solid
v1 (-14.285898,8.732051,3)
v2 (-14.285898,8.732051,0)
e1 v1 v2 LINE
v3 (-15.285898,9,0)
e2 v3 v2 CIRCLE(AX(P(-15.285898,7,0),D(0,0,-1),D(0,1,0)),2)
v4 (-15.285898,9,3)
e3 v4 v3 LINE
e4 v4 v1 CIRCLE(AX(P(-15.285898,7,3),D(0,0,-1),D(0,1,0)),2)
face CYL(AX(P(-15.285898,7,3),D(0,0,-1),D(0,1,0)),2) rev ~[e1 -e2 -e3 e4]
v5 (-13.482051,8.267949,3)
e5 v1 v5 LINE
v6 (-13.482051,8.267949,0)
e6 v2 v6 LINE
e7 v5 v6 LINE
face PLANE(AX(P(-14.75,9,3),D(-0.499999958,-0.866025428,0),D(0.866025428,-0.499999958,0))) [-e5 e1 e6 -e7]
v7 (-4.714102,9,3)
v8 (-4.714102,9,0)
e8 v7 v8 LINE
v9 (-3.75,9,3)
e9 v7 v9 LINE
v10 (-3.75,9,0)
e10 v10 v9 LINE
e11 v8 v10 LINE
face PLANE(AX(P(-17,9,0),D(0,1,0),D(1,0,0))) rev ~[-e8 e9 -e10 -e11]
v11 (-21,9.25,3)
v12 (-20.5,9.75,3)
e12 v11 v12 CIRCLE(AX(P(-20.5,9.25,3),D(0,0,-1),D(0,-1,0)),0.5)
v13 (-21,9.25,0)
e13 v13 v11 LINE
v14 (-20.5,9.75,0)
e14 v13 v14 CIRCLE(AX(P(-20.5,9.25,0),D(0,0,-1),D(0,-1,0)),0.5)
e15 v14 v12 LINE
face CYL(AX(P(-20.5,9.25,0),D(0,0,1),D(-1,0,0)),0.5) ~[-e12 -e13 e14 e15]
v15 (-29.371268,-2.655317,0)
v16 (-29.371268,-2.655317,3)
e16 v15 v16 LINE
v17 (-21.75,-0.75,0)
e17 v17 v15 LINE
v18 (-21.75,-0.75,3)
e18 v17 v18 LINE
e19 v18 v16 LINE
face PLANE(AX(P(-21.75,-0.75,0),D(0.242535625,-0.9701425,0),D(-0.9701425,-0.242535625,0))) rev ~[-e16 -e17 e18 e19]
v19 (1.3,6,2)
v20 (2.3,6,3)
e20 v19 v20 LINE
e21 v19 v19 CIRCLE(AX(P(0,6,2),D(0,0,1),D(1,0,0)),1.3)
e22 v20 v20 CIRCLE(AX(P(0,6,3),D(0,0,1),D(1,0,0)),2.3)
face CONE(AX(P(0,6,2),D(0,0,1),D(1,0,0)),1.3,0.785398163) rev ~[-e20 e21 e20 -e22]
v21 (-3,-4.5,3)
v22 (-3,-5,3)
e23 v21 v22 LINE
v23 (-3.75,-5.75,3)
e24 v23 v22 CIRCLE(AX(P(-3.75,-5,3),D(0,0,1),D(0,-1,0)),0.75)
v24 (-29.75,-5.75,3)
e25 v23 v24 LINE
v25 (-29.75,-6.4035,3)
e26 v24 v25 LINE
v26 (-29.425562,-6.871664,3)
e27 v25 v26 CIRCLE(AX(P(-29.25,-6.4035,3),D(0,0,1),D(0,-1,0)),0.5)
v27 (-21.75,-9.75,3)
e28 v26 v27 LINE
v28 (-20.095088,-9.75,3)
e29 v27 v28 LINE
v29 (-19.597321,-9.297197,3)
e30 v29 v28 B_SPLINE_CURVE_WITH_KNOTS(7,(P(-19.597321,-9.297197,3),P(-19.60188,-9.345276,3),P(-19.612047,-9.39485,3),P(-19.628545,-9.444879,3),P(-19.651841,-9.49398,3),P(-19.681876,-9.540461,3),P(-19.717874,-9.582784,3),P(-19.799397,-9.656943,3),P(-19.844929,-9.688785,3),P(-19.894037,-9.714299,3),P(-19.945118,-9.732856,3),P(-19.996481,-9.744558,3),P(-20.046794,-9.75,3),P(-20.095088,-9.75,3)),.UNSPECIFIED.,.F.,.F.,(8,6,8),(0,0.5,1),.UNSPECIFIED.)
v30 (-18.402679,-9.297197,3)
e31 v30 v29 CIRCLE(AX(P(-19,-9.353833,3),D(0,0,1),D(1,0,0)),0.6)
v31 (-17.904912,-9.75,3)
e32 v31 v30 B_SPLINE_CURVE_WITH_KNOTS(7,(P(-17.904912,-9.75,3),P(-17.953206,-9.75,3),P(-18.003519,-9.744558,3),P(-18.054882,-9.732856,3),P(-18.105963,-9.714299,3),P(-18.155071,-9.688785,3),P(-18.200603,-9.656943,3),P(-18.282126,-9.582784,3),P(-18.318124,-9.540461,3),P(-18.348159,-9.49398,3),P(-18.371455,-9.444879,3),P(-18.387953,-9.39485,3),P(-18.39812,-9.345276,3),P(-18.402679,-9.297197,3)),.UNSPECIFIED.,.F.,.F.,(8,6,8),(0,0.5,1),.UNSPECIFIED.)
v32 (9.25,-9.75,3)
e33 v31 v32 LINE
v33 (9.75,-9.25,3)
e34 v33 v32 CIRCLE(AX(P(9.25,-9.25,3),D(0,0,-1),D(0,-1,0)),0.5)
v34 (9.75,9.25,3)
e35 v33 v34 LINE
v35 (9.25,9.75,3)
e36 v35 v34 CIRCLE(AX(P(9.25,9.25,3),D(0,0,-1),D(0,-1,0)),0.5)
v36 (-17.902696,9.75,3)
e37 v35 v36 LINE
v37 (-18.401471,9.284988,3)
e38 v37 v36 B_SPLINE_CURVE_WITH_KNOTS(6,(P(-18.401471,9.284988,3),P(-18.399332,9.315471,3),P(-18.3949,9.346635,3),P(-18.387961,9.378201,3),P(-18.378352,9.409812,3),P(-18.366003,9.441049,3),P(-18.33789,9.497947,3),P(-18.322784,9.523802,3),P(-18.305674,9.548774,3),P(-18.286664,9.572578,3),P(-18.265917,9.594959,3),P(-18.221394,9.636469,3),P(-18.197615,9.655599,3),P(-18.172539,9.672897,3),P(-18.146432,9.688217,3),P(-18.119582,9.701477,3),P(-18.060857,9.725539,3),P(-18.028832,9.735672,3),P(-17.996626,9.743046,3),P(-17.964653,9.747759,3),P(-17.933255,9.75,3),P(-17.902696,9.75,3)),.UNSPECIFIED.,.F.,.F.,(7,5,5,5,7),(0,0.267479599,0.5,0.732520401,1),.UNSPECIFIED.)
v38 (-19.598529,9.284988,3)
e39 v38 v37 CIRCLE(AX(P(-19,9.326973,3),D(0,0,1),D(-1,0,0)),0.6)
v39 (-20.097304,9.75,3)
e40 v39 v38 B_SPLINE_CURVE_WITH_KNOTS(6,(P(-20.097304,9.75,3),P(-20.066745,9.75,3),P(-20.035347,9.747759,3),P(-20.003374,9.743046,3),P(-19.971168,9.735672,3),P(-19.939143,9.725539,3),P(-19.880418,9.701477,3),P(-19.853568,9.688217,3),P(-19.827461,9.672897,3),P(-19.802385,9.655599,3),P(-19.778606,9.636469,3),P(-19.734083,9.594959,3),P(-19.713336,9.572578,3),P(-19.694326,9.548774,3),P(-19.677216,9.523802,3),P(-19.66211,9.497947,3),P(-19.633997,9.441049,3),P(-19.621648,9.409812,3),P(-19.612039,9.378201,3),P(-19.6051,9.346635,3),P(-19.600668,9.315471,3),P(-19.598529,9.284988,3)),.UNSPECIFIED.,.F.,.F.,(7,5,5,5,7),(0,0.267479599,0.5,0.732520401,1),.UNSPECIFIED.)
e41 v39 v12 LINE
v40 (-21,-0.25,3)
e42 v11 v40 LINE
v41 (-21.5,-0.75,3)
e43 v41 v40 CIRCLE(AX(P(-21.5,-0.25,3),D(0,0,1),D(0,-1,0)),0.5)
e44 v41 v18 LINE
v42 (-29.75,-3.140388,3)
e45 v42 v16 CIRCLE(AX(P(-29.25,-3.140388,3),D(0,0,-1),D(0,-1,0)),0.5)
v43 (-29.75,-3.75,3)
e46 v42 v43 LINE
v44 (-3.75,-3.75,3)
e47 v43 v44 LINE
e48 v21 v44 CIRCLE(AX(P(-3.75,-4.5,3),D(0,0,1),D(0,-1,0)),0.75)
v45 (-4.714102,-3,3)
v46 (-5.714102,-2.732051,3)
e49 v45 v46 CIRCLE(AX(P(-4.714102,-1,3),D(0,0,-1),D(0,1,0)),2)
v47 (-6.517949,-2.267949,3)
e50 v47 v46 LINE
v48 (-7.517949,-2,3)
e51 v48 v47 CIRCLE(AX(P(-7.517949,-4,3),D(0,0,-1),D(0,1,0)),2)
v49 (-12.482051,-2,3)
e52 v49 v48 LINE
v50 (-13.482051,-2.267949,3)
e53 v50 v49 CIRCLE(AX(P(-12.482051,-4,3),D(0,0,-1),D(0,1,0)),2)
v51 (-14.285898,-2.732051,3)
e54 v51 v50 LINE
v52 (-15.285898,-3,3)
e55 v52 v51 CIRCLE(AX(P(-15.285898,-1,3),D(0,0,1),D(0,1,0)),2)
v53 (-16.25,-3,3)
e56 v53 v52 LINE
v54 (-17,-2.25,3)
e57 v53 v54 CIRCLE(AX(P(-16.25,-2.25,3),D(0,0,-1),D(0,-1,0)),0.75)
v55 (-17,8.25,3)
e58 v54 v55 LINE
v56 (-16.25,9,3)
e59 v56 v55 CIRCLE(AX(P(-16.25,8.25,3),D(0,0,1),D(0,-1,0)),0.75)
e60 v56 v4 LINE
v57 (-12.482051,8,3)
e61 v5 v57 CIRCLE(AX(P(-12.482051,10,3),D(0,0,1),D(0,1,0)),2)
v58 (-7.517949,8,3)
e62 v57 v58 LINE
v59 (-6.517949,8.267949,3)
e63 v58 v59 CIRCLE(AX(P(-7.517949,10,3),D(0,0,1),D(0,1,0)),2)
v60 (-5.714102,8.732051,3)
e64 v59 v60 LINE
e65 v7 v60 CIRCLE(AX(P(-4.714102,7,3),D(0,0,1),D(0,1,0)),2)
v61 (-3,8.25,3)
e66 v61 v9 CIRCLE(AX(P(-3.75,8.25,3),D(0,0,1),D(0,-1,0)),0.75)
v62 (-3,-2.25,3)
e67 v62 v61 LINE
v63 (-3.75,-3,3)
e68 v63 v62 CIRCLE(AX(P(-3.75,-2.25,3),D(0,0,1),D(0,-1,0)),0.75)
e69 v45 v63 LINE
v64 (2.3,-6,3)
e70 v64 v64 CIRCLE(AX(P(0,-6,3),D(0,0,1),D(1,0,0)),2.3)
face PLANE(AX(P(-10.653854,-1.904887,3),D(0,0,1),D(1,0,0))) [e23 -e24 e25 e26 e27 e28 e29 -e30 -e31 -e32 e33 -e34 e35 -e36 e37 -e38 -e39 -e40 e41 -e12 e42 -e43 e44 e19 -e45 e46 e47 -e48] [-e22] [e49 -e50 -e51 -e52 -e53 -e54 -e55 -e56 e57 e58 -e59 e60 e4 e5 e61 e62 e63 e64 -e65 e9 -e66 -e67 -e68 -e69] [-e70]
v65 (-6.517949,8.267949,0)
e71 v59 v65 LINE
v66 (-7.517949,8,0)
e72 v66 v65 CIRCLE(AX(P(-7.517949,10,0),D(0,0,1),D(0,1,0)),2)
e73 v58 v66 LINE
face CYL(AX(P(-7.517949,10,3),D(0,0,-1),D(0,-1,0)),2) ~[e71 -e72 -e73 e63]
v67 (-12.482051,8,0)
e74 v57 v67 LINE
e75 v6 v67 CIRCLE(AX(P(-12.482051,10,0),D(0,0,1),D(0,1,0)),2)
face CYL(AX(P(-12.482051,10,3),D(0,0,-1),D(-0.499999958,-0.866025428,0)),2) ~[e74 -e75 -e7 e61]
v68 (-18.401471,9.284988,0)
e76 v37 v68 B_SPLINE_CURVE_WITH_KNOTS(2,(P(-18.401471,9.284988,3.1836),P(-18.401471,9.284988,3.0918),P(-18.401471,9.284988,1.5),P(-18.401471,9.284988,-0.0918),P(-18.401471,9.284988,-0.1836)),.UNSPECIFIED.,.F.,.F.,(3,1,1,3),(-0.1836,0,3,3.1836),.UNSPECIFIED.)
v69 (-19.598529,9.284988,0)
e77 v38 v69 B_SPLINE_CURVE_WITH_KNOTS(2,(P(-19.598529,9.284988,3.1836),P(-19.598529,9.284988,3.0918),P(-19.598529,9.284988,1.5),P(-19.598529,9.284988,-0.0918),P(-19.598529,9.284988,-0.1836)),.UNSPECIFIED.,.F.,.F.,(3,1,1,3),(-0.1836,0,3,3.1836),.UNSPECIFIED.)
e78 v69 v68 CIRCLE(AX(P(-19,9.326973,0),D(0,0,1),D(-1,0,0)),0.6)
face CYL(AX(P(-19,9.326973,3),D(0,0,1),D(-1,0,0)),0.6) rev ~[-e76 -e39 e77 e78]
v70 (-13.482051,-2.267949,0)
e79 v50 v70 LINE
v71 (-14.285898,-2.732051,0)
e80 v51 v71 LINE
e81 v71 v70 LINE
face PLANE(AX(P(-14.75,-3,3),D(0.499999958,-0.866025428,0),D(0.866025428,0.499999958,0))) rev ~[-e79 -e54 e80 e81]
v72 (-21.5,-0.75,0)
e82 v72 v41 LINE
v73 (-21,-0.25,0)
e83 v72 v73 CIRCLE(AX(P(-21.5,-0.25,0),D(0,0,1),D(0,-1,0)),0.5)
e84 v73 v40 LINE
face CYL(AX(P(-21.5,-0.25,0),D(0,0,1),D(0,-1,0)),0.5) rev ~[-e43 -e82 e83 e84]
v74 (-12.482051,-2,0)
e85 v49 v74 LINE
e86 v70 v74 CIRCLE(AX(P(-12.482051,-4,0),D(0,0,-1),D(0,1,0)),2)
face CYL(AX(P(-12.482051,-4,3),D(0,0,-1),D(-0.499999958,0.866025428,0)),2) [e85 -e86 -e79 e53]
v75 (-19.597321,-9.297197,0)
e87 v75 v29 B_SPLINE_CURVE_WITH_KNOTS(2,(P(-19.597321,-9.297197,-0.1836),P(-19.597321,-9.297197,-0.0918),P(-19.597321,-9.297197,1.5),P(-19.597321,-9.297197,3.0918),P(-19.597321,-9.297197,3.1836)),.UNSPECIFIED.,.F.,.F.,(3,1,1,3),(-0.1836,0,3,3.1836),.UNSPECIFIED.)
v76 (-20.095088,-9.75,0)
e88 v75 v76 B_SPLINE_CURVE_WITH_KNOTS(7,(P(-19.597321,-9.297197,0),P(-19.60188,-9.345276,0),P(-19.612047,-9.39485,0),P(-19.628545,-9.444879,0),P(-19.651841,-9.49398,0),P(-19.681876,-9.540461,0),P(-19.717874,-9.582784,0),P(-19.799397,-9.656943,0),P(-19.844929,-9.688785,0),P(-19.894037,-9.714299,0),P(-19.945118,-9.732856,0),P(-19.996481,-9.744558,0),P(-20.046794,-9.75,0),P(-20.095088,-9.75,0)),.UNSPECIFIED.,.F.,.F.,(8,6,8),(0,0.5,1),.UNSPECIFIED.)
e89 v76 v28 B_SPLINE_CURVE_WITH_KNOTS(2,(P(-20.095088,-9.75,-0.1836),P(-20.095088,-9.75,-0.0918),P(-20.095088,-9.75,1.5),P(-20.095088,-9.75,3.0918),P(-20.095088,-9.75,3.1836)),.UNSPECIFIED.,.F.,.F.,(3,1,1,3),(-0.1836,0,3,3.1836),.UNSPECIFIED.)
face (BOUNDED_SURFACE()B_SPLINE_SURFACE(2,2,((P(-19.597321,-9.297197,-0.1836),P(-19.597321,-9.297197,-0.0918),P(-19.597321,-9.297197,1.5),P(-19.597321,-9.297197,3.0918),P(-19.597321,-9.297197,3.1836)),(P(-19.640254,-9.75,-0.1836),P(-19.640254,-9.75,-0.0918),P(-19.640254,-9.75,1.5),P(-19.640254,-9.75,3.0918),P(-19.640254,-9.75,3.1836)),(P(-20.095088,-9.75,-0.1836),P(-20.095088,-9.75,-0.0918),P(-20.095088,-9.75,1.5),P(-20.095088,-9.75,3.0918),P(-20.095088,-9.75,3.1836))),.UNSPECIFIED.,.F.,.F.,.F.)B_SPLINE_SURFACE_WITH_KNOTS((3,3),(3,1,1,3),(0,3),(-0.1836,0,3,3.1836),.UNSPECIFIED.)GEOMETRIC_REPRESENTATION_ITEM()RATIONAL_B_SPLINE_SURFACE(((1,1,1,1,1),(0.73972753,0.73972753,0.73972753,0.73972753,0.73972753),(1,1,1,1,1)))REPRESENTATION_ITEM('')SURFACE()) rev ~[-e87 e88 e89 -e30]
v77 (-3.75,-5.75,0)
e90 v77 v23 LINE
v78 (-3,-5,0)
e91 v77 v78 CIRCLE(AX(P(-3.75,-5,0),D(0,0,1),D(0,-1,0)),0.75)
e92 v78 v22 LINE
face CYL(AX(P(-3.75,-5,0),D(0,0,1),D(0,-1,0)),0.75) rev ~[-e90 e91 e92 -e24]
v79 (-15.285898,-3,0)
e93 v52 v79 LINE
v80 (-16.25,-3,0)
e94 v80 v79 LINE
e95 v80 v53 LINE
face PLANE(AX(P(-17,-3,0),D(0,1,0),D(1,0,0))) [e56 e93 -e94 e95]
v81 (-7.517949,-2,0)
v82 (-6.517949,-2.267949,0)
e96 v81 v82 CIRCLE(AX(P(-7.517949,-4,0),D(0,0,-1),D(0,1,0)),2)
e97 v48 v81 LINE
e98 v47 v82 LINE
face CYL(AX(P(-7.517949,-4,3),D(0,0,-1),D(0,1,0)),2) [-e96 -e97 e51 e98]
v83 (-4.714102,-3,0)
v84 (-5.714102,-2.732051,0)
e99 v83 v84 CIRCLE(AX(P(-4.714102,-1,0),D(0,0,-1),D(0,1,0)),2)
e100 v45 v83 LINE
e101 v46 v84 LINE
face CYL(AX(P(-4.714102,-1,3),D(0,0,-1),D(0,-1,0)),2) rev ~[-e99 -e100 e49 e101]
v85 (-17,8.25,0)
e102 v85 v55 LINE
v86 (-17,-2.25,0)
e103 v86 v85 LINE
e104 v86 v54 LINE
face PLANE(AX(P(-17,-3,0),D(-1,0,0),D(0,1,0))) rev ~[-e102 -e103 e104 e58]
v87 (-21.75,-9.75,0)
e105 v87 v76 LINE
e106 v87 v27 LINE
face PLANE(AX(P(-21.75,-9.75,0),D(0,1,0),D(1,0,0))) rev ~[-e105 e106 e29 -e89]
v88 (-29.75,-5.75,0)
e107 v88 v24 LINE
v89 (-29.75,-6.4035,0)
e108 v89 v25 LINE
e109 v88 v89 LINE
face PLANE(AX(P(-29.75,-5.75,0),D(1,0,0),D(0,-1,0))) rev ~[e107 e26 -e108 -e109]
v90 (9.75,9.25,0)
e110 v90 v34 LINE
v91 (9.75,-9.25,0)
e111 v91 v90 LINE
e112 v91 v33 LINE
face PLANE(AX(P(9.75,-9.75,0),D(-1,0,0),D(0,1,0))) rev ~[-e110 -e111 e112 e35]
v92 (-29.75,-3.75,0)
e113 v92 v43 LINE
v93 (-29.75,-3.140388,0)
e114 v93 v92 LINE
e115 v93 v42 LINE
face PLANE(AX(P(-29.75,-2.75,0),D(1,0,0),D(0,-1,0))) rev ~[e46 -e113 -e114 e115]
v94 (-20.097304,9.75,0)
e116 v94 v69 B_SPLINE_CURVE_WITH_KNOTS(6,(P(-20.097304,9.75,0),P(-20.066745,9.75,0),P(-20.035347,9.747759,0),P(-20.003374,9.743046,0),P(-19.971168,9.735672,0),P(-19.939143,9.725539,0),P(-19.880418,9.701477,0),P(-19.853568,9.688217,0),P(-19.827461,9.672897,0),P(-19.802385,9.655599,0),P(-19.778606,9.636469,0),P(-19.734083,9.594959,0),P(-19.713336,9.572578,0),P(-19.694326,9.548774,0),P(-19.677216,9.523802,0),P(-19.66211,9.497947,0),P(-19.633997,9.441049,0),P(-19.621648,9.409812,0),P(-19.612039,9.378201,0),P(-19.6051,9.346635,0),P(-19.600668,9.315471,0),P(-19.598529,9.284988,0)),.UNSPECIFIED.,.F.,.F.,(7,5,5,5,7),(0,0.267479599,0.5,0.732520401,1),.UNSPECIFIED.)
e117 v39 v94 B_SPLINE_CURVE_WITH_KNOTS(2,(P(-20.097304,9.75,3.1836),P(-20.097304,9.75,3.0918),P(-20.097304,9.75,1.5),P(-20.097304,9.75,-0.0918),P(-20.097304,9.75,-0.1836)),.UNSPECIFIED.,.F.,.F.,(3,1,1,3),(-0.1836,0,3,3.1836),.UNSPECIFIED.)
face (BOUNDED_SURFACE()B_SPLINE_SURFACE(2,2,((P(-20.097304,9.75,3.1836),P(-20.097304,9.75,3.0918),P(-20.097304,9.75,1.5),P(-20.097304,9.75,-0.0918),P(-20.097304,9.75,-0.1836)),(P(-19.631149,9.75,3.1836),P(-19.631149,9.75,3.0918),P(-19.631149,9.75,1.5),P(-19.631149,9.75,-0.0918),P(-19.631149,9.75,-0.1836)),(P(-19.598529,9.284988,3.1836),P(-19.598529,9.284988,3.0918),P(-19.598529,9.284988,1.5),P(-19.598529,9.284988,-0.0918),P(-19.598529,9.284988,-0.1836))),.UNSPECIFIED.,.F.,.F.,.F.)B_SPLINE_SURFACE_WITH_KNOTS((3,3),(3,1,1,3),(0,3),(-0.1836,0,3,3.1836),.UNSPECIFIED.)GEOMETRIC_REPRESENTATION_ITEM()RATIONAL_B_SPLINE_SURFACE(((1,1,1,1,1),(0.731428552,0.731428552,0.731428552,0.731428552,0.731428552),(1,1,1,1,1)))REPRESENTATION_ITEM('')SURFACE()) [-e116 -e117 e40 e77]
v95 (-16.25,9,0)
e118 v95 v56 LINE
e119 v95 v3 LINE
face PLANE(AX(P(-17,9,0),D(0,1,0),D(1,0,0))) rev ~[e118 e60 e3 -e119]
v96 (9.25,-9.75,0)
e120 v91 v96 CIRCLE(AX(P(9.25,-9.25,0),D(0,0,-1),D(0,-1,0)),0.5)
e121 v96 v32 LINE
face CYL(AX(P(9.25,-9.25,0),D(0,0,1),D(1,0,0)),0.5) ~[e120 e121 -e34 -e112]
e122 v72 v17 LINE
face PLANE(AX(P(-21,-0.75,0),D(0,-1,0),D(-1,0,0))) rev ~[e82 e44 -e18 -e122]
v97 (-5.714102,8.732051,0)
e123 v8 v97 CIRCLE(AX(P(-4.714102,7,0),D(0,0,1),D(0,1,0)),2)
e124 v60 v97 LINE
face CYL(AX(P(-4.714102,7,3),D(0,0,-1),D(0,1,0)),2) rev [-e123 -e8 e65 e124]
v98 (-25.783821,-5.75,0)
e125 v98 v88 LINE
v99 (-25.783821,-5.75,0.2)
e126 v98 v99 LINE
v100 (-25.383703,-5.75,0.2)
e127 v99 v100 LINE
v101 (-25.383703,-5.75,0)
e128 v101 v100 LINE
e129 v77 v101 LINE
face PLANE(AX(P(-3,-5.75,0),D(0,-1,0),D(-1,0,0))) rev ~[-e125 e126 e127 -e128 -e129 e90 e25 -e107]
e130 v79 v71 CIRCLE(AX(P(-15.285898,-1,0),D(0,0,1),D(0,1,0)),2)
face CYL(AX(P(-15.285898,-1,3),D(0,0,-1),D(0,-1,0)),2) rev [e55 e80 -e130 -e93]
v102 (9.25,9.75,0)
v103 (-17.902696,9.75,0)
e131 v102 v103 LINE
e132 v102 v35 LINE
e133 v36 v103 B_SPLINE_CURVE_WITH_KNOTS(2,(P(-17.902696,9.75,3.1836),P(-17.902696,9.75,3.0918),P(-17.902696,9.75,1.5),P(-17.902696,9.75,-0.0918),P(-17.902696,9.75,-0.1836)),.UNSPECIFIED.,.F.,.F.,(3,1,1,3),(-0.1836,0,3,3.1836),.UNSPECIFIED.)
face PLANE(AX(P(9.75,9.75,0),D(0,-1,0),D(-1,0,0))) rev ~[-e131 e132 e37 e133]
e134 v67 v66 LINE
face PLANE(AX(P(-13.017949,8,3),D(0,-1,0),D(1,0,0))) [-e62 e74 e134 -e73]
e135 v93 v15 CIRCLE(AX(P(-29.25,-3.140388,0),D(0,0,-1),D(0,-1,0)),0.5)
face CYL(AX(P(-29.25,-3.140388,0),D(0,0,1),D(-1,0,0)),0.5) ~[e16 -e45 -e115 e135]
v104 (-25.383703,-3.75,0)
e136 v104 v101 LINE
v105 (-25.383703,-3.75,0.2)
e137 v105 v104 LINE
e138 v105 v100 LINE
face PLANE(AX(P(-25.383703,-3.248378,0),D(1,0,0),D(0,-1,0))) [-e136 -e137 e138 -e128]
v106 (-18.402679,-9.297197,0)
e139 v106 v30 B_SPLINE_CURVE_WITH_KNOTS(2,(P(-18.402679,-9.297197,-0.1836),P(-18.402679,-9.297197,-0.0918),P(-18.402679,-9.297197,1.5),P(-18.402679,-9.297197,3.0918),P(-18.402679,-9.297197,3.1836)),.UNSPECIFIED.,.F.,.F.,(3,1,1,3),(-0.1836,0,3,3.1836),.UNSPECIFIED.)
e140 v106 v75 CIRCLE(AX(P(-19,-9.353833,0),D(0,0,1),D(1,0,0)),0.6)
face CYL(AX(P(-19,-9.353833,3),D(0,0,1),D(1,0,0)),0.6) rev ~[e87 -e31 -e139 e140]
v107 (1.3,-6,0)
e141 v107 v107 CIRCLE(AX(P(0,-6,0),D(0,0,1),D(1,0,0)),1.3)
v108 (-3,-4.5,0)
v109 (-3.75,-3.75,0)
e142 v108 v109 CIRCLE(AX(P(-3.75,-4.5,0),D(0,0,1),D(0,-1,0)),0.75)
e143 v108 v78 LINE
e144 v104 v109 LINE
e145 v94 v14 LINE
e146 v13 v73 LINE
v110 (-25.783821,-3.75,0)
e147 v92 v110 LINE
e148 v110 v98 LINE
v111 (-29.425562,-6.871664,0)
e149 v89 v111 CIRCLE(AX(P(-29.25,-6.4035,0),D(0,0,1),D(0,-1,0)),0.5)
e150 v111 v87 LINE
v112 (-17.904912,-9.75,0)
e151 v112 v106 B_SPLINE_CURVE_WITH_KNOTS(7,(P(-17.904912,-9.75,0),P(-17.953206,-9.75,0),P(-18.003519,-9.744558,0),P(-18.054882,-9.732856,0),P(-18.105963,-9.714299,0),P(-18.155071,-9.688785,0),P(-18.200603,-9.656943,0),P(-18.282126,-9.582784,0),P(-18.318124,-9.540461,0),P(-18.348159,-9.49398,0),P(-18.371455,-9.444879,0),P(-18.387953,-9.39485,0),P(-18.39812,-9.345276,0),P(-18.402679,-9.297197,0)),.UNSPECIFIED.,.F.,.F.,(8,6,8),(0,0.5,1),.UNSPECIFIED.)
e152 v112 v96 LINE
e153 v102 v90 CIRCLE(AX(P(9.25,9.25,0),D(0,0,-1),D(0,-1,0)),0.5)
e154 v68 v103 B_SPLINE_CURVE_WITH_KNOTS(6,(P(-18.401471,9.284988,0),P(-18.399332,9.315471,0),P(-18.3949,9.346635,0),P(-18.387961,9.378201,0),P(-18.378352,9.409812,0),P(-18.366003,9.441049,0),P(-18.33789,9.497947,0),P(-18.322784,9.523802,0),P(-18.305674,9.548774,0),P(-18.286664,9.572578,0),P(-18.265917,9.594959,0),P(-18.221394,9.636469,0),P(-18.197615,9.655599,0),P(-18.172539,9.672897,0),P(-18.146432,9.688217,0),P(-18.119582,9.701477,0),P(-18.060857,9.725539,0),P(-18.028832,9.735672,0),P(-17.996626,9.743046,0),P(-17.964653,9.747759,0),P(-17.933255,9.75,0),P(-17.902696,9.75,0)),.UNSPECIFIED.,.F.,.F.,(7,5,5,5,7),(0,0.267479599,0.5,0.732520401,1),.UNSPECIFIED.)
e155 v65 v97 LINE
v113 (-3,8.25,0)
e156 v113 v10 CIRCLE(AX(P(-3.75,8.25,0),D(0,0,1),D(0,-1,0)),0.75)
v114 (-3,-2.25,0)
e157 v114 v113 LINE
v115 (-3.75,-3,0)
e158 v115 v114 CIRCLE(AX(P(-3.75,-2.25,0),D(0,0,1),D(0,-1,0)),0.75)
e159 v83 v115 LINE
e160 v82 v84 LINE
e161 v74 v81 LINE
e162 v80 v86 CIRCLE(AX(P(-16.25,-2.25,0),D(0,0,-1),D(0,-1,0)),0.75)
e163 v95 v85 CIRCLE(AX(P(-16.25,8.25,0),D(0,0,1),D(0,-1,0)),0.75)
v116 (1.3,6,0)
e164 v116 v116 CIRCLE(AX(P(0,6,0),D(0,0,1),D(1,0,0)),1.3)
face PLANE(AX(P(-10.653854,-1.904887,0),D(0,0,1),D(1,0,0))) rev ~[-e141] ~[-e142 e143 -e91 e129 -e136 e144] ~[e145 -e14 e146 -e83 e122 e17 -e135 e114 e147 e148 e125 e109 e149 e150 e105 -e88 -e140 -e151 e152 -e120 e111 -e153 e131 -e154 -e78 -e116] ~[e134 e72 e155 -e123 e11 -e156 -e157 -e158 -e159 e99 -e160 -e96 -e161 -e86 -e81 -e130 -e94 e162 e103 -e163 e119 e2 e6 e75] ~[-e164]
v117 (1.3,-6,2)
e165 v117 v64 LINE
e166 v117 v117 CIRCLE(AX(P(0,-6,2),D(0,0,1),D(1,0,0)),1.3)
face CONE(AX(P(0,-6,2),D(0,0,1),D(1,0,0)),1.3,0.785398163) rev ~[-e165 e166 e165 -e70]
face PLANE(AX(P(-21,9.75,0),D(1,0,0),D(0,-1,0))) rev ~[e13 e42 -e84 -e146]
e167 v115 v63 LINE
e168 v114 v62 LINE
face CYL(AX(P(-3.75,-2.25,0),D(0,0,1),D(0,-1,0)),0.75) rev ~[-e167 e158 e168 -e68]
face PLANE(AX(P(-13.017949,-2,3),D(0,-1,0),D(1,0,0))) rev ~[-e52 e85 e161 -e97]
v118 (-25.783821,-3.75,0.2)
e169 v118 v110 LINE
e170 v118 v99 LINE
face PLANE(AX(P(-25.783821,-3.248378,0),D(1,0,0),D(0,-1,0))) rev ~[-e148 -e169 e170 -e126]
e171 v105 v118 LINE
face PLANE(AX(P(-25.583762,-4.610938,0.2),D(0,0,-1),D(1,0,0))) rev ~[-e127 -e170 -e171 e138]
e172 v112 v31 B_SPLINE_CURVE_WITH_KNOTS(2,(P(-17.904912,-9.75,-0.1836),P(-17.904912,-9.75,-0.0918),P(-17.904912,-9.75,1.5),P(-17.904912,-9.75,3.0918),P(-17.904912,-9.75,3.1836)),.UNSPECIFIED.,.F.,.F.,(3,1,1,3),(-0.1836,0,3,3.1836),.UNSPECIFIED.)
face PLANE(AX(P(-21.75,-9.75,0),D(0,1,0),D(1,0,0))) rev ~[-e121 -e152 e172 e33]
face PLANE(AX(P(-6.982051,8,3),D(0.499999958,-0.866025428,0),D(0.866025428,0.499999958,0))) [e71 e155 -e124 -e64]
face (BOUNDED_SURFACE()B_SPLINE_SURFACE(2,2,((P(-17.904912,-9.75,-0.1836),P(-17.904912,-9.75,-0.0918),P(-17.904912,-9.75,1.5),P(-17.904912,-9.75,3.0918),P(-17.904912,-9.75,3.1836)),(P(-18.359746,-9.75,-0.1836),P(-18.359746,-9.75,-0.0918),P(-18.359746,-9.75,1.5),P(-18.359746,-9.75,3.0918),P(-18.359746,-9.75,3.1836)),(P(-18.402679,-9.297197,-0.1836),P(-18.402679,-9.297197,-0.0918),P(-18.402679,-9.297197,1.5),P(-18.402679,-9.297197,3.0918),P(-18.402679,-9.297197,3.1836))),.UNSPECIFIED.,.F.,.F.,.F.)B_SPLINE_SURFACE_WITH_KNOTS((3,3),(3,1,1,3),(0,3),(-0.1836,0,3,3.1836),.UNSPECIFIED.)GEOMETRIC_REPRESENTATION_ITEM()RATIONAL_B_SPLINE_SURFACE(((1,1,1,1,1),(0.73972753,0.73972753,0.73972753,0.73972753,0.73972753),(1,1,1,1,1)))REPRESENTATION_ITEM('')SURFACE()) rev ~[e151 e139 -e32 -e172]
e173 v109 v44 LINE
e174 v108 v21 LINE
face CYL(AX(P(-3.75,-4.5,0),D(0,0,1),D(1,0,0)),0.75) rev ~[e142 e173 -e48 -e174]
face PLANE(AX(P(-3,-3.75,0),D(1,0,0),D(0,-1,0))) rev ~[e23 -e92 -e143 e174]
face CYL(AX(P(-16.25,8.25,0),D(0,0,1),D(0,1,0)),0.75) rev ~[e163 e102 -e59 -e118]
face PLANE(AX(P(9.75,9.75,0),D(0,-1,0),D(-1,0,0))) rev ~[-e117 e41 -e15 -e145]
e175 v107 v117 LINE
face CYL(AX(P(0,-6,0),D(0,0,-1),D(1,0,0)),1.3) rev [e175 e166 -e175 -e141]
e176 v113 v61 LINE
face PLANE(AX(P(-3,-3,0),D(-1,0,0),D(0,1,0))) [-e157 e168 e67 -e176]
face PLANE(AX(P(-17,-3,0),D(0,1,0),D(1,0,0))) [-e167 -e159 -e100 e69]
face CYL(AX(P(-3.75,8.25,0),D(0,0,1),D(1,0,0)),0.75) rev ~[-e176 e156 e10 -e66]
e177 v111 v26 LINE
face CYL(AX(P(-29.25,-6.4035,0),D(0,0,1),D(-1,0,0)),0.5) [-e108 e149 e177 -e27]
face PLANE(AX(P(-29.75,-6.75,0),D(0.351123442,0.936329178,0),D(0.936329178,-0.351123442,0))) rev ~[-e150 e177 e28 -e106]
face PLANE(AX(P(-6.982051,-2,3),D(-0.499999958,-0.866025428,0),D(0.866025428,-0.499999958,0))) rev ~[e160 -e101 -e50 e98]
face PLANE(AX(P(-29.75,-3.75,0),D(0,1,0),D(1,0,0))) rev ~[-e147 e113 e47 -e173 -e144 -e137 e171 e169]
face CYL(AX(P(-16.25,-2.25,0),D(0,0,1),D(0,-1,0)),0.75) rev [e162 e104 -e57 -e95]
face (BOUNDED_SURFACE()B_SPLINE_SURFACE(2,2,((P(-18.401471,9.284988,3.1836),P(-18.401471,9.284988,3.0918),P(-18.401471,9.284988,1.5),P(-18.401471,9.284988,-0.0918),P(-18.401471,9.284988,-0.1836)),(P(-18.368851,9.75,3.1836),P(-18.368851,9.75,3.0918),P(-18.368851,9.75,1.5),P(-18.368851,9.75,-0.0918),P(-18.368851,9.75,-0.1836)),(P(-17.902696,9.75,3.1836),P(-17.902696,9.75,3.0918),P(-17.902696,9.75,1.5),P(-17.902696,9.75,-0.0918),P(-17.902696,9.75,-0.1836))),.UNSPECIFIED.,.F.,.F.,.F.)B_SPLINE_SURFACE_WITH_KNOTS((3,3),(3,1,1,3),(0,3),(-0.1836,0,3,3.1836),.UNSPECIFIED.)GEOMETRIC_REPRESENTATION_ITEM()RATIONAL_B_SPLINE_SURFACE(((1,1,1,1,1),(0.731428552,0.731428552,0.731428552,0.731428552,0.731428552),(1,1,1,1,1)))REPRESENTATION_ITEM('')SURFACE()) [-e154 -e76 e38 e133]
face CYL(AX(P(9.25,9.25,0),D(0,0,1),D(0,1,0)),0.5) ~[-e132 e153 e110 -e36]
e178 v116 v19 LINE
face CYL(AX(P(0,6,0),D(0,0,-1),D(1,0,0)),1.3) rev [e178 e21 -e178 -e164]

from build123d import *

# Parameters (mm, degrees)
SKETCH_R     = 1.3
SKETCH_W     = 14
SKETCH_H     = 12
PAD_DEPTH    = 3
FILLET_R     = 0.75
POCKET_DEPTH = 5
FILLET001_R  = 0.5
CHAMFER_SIZE = 1
PAD001_DEPTH = 3
FILLET002_R  = 2
SKETCH004_W  = 0.400118
SKETCH004_H  = 2.725121
PAD002_DEPTH = 0.2


with BuildPart() as part:
    # Sketch (on XY_Plane of Origin) → Pad (new body)
    with BuildSketch(Plane.XY):
        Polygon((-9.75, -9.75), (9.75, -9.75), (9.75, 9.75), (-9.75, 9.75), (-21, 9.75), (-21, -0.75), (-21.75, -0.75), (-29.75, -2.75), (-29.75, -3.75), (-3, -3.75), (-3, -5.75), (-29.75, -5.75), (-29.75, -6.75), (-21.75, -9.75), align=None)
        with Locations((0, 6)):
            Circle(SKETCH_R, mode=Mode.SUBTRACT)
        with Locations((0, -6)):
            Circle(SKETCH_R, mode=Mode.SUBTRACT)
        with Locations((-10, 3)):
            Rectangle(SKETCH_W, SKETCH_H, mode=Mode.SUBTRACT)
    extrude(amount=PAD_DEPTH)

    # Fillet
    fillet_edges = [part.edges().sort_by_distance(p)[0] for p in [
        (-3, -3, 1.5),
        (-3, 9, 1.5),
        (-17, 9, 1.5),
        (-17, -3, 1.5),
        (-3, -3.75, 1.5),
        (-3, -5.75, 1.5),
    ]]
    fillet(fillet_edges, radius=FILLET_R)

    # Sketch002 (on Face26 of Fillet) → Pocket (cut)
    with BuildSketch(Plane.XY.offset(3)):
        with BuildLine():
            ThreePointArc((-18.4, -9.353833), (-19, -8.753833), (-19.6, -9.353833))
            Line((-19.6, -9.353833), (-19.6, -11.103725))
            ThreePointArc((-19.6, -11.103725), (-19, -11.703725), (-18.4, -11.103725))
            Line((-18.4, -9.353833), (-18.4, -11.103725))
        make_face()
        with BuildLine():
            ThreePointArc((-18.4, 12.382466), (-19, 12.982466), (-19.6, 12.382466))
            Line((-19.6, 12.382466), (-19.6, 9.326973))
            ThreePointArc((-19.6, 9.326973), (-19, 8.726973), (-18.4, 9.326973))
            Line((-18.4, 12.382466), (-18.4, 9.326973))
        make_face()
    extrude(amount=-POCKET_DEPTH, mode=Mode.SUBTRACT)

    # Fillet001
    fillet001_edges = [part.edges().sort_by_distance(p)[0] for p in [
        (-21, 9.75, 1.5),
        (-21, -0.75, 1.5),
        (9.75, -9.75, 1.5),
        (9.75, 9.75, 1.5),
        (-19.6, 9.75, 1.5),
        (-18.4, 9.75, 1.5),
        (-19.6, -9.75, 1.5),
        (-18.4, -9.75, 1.5),
        (-29.75, -6.75, 1.5),
        (-29.75, -2.75, 1.5),
    ]]
    fillet(fillet001_edges, radius=FILLET001_R)

    # Chamfer
    chamfer_edges = [part.edges().sort_by_distance(p)[0] for p in [
        (-1.3, 6, 3),
        (-1.3, -6, 3),
    ]]
    chamfer(chamfer_edges, length=CHAMFER_SIZE)

    # Sketch003 (on Face4 of Chamfer) → Pad001 (join)
    with BuildSketch(Plane.XY.offset(3)):
        Polygon((-14.75, 9), (-13.017949, 8), (-6.982051, 8), (-5.25, 9), align=None)
        Polygon((-14.75, -3), (-13.017949, -2), (-6.982051, -2), (-5.25, -3), align=None)
    extrude(amount=-PAD001_DEPTH)

    # Fillet002
    fillet002_edges = [part.edges().sort_by_distance(p)[0] for p in [
        (-5.25, -3, 1.5),
        (-14.75, -3, 1.5),
        (-13.017949, -2, 1.5),
        (-6.982051, -2, 1.5),
        (-5.25, 9, 1.5),
        (-6.982051, 8, 1.5),
        (-13.017949, 8, 1.5),
        (-14.75, 9, 1.5),
    ]]
    fillet(fillet002_edges, radius=FILLET002_R)

    # Sketch004 (on Face1 of Fillet002) → Pad002 (join)
    with BuildSketch(Plane(origin=(0, 0, 0), x_dir=(1, 0, 0), z_dir=(0, 0, -1))):
        with Locations((-25.583762, 4.610938)):
            Rectangle(SKETCH004_W, SKETCH004_H)
    extrude(amount=-PAD002_DEPTH)


solid = part.part
